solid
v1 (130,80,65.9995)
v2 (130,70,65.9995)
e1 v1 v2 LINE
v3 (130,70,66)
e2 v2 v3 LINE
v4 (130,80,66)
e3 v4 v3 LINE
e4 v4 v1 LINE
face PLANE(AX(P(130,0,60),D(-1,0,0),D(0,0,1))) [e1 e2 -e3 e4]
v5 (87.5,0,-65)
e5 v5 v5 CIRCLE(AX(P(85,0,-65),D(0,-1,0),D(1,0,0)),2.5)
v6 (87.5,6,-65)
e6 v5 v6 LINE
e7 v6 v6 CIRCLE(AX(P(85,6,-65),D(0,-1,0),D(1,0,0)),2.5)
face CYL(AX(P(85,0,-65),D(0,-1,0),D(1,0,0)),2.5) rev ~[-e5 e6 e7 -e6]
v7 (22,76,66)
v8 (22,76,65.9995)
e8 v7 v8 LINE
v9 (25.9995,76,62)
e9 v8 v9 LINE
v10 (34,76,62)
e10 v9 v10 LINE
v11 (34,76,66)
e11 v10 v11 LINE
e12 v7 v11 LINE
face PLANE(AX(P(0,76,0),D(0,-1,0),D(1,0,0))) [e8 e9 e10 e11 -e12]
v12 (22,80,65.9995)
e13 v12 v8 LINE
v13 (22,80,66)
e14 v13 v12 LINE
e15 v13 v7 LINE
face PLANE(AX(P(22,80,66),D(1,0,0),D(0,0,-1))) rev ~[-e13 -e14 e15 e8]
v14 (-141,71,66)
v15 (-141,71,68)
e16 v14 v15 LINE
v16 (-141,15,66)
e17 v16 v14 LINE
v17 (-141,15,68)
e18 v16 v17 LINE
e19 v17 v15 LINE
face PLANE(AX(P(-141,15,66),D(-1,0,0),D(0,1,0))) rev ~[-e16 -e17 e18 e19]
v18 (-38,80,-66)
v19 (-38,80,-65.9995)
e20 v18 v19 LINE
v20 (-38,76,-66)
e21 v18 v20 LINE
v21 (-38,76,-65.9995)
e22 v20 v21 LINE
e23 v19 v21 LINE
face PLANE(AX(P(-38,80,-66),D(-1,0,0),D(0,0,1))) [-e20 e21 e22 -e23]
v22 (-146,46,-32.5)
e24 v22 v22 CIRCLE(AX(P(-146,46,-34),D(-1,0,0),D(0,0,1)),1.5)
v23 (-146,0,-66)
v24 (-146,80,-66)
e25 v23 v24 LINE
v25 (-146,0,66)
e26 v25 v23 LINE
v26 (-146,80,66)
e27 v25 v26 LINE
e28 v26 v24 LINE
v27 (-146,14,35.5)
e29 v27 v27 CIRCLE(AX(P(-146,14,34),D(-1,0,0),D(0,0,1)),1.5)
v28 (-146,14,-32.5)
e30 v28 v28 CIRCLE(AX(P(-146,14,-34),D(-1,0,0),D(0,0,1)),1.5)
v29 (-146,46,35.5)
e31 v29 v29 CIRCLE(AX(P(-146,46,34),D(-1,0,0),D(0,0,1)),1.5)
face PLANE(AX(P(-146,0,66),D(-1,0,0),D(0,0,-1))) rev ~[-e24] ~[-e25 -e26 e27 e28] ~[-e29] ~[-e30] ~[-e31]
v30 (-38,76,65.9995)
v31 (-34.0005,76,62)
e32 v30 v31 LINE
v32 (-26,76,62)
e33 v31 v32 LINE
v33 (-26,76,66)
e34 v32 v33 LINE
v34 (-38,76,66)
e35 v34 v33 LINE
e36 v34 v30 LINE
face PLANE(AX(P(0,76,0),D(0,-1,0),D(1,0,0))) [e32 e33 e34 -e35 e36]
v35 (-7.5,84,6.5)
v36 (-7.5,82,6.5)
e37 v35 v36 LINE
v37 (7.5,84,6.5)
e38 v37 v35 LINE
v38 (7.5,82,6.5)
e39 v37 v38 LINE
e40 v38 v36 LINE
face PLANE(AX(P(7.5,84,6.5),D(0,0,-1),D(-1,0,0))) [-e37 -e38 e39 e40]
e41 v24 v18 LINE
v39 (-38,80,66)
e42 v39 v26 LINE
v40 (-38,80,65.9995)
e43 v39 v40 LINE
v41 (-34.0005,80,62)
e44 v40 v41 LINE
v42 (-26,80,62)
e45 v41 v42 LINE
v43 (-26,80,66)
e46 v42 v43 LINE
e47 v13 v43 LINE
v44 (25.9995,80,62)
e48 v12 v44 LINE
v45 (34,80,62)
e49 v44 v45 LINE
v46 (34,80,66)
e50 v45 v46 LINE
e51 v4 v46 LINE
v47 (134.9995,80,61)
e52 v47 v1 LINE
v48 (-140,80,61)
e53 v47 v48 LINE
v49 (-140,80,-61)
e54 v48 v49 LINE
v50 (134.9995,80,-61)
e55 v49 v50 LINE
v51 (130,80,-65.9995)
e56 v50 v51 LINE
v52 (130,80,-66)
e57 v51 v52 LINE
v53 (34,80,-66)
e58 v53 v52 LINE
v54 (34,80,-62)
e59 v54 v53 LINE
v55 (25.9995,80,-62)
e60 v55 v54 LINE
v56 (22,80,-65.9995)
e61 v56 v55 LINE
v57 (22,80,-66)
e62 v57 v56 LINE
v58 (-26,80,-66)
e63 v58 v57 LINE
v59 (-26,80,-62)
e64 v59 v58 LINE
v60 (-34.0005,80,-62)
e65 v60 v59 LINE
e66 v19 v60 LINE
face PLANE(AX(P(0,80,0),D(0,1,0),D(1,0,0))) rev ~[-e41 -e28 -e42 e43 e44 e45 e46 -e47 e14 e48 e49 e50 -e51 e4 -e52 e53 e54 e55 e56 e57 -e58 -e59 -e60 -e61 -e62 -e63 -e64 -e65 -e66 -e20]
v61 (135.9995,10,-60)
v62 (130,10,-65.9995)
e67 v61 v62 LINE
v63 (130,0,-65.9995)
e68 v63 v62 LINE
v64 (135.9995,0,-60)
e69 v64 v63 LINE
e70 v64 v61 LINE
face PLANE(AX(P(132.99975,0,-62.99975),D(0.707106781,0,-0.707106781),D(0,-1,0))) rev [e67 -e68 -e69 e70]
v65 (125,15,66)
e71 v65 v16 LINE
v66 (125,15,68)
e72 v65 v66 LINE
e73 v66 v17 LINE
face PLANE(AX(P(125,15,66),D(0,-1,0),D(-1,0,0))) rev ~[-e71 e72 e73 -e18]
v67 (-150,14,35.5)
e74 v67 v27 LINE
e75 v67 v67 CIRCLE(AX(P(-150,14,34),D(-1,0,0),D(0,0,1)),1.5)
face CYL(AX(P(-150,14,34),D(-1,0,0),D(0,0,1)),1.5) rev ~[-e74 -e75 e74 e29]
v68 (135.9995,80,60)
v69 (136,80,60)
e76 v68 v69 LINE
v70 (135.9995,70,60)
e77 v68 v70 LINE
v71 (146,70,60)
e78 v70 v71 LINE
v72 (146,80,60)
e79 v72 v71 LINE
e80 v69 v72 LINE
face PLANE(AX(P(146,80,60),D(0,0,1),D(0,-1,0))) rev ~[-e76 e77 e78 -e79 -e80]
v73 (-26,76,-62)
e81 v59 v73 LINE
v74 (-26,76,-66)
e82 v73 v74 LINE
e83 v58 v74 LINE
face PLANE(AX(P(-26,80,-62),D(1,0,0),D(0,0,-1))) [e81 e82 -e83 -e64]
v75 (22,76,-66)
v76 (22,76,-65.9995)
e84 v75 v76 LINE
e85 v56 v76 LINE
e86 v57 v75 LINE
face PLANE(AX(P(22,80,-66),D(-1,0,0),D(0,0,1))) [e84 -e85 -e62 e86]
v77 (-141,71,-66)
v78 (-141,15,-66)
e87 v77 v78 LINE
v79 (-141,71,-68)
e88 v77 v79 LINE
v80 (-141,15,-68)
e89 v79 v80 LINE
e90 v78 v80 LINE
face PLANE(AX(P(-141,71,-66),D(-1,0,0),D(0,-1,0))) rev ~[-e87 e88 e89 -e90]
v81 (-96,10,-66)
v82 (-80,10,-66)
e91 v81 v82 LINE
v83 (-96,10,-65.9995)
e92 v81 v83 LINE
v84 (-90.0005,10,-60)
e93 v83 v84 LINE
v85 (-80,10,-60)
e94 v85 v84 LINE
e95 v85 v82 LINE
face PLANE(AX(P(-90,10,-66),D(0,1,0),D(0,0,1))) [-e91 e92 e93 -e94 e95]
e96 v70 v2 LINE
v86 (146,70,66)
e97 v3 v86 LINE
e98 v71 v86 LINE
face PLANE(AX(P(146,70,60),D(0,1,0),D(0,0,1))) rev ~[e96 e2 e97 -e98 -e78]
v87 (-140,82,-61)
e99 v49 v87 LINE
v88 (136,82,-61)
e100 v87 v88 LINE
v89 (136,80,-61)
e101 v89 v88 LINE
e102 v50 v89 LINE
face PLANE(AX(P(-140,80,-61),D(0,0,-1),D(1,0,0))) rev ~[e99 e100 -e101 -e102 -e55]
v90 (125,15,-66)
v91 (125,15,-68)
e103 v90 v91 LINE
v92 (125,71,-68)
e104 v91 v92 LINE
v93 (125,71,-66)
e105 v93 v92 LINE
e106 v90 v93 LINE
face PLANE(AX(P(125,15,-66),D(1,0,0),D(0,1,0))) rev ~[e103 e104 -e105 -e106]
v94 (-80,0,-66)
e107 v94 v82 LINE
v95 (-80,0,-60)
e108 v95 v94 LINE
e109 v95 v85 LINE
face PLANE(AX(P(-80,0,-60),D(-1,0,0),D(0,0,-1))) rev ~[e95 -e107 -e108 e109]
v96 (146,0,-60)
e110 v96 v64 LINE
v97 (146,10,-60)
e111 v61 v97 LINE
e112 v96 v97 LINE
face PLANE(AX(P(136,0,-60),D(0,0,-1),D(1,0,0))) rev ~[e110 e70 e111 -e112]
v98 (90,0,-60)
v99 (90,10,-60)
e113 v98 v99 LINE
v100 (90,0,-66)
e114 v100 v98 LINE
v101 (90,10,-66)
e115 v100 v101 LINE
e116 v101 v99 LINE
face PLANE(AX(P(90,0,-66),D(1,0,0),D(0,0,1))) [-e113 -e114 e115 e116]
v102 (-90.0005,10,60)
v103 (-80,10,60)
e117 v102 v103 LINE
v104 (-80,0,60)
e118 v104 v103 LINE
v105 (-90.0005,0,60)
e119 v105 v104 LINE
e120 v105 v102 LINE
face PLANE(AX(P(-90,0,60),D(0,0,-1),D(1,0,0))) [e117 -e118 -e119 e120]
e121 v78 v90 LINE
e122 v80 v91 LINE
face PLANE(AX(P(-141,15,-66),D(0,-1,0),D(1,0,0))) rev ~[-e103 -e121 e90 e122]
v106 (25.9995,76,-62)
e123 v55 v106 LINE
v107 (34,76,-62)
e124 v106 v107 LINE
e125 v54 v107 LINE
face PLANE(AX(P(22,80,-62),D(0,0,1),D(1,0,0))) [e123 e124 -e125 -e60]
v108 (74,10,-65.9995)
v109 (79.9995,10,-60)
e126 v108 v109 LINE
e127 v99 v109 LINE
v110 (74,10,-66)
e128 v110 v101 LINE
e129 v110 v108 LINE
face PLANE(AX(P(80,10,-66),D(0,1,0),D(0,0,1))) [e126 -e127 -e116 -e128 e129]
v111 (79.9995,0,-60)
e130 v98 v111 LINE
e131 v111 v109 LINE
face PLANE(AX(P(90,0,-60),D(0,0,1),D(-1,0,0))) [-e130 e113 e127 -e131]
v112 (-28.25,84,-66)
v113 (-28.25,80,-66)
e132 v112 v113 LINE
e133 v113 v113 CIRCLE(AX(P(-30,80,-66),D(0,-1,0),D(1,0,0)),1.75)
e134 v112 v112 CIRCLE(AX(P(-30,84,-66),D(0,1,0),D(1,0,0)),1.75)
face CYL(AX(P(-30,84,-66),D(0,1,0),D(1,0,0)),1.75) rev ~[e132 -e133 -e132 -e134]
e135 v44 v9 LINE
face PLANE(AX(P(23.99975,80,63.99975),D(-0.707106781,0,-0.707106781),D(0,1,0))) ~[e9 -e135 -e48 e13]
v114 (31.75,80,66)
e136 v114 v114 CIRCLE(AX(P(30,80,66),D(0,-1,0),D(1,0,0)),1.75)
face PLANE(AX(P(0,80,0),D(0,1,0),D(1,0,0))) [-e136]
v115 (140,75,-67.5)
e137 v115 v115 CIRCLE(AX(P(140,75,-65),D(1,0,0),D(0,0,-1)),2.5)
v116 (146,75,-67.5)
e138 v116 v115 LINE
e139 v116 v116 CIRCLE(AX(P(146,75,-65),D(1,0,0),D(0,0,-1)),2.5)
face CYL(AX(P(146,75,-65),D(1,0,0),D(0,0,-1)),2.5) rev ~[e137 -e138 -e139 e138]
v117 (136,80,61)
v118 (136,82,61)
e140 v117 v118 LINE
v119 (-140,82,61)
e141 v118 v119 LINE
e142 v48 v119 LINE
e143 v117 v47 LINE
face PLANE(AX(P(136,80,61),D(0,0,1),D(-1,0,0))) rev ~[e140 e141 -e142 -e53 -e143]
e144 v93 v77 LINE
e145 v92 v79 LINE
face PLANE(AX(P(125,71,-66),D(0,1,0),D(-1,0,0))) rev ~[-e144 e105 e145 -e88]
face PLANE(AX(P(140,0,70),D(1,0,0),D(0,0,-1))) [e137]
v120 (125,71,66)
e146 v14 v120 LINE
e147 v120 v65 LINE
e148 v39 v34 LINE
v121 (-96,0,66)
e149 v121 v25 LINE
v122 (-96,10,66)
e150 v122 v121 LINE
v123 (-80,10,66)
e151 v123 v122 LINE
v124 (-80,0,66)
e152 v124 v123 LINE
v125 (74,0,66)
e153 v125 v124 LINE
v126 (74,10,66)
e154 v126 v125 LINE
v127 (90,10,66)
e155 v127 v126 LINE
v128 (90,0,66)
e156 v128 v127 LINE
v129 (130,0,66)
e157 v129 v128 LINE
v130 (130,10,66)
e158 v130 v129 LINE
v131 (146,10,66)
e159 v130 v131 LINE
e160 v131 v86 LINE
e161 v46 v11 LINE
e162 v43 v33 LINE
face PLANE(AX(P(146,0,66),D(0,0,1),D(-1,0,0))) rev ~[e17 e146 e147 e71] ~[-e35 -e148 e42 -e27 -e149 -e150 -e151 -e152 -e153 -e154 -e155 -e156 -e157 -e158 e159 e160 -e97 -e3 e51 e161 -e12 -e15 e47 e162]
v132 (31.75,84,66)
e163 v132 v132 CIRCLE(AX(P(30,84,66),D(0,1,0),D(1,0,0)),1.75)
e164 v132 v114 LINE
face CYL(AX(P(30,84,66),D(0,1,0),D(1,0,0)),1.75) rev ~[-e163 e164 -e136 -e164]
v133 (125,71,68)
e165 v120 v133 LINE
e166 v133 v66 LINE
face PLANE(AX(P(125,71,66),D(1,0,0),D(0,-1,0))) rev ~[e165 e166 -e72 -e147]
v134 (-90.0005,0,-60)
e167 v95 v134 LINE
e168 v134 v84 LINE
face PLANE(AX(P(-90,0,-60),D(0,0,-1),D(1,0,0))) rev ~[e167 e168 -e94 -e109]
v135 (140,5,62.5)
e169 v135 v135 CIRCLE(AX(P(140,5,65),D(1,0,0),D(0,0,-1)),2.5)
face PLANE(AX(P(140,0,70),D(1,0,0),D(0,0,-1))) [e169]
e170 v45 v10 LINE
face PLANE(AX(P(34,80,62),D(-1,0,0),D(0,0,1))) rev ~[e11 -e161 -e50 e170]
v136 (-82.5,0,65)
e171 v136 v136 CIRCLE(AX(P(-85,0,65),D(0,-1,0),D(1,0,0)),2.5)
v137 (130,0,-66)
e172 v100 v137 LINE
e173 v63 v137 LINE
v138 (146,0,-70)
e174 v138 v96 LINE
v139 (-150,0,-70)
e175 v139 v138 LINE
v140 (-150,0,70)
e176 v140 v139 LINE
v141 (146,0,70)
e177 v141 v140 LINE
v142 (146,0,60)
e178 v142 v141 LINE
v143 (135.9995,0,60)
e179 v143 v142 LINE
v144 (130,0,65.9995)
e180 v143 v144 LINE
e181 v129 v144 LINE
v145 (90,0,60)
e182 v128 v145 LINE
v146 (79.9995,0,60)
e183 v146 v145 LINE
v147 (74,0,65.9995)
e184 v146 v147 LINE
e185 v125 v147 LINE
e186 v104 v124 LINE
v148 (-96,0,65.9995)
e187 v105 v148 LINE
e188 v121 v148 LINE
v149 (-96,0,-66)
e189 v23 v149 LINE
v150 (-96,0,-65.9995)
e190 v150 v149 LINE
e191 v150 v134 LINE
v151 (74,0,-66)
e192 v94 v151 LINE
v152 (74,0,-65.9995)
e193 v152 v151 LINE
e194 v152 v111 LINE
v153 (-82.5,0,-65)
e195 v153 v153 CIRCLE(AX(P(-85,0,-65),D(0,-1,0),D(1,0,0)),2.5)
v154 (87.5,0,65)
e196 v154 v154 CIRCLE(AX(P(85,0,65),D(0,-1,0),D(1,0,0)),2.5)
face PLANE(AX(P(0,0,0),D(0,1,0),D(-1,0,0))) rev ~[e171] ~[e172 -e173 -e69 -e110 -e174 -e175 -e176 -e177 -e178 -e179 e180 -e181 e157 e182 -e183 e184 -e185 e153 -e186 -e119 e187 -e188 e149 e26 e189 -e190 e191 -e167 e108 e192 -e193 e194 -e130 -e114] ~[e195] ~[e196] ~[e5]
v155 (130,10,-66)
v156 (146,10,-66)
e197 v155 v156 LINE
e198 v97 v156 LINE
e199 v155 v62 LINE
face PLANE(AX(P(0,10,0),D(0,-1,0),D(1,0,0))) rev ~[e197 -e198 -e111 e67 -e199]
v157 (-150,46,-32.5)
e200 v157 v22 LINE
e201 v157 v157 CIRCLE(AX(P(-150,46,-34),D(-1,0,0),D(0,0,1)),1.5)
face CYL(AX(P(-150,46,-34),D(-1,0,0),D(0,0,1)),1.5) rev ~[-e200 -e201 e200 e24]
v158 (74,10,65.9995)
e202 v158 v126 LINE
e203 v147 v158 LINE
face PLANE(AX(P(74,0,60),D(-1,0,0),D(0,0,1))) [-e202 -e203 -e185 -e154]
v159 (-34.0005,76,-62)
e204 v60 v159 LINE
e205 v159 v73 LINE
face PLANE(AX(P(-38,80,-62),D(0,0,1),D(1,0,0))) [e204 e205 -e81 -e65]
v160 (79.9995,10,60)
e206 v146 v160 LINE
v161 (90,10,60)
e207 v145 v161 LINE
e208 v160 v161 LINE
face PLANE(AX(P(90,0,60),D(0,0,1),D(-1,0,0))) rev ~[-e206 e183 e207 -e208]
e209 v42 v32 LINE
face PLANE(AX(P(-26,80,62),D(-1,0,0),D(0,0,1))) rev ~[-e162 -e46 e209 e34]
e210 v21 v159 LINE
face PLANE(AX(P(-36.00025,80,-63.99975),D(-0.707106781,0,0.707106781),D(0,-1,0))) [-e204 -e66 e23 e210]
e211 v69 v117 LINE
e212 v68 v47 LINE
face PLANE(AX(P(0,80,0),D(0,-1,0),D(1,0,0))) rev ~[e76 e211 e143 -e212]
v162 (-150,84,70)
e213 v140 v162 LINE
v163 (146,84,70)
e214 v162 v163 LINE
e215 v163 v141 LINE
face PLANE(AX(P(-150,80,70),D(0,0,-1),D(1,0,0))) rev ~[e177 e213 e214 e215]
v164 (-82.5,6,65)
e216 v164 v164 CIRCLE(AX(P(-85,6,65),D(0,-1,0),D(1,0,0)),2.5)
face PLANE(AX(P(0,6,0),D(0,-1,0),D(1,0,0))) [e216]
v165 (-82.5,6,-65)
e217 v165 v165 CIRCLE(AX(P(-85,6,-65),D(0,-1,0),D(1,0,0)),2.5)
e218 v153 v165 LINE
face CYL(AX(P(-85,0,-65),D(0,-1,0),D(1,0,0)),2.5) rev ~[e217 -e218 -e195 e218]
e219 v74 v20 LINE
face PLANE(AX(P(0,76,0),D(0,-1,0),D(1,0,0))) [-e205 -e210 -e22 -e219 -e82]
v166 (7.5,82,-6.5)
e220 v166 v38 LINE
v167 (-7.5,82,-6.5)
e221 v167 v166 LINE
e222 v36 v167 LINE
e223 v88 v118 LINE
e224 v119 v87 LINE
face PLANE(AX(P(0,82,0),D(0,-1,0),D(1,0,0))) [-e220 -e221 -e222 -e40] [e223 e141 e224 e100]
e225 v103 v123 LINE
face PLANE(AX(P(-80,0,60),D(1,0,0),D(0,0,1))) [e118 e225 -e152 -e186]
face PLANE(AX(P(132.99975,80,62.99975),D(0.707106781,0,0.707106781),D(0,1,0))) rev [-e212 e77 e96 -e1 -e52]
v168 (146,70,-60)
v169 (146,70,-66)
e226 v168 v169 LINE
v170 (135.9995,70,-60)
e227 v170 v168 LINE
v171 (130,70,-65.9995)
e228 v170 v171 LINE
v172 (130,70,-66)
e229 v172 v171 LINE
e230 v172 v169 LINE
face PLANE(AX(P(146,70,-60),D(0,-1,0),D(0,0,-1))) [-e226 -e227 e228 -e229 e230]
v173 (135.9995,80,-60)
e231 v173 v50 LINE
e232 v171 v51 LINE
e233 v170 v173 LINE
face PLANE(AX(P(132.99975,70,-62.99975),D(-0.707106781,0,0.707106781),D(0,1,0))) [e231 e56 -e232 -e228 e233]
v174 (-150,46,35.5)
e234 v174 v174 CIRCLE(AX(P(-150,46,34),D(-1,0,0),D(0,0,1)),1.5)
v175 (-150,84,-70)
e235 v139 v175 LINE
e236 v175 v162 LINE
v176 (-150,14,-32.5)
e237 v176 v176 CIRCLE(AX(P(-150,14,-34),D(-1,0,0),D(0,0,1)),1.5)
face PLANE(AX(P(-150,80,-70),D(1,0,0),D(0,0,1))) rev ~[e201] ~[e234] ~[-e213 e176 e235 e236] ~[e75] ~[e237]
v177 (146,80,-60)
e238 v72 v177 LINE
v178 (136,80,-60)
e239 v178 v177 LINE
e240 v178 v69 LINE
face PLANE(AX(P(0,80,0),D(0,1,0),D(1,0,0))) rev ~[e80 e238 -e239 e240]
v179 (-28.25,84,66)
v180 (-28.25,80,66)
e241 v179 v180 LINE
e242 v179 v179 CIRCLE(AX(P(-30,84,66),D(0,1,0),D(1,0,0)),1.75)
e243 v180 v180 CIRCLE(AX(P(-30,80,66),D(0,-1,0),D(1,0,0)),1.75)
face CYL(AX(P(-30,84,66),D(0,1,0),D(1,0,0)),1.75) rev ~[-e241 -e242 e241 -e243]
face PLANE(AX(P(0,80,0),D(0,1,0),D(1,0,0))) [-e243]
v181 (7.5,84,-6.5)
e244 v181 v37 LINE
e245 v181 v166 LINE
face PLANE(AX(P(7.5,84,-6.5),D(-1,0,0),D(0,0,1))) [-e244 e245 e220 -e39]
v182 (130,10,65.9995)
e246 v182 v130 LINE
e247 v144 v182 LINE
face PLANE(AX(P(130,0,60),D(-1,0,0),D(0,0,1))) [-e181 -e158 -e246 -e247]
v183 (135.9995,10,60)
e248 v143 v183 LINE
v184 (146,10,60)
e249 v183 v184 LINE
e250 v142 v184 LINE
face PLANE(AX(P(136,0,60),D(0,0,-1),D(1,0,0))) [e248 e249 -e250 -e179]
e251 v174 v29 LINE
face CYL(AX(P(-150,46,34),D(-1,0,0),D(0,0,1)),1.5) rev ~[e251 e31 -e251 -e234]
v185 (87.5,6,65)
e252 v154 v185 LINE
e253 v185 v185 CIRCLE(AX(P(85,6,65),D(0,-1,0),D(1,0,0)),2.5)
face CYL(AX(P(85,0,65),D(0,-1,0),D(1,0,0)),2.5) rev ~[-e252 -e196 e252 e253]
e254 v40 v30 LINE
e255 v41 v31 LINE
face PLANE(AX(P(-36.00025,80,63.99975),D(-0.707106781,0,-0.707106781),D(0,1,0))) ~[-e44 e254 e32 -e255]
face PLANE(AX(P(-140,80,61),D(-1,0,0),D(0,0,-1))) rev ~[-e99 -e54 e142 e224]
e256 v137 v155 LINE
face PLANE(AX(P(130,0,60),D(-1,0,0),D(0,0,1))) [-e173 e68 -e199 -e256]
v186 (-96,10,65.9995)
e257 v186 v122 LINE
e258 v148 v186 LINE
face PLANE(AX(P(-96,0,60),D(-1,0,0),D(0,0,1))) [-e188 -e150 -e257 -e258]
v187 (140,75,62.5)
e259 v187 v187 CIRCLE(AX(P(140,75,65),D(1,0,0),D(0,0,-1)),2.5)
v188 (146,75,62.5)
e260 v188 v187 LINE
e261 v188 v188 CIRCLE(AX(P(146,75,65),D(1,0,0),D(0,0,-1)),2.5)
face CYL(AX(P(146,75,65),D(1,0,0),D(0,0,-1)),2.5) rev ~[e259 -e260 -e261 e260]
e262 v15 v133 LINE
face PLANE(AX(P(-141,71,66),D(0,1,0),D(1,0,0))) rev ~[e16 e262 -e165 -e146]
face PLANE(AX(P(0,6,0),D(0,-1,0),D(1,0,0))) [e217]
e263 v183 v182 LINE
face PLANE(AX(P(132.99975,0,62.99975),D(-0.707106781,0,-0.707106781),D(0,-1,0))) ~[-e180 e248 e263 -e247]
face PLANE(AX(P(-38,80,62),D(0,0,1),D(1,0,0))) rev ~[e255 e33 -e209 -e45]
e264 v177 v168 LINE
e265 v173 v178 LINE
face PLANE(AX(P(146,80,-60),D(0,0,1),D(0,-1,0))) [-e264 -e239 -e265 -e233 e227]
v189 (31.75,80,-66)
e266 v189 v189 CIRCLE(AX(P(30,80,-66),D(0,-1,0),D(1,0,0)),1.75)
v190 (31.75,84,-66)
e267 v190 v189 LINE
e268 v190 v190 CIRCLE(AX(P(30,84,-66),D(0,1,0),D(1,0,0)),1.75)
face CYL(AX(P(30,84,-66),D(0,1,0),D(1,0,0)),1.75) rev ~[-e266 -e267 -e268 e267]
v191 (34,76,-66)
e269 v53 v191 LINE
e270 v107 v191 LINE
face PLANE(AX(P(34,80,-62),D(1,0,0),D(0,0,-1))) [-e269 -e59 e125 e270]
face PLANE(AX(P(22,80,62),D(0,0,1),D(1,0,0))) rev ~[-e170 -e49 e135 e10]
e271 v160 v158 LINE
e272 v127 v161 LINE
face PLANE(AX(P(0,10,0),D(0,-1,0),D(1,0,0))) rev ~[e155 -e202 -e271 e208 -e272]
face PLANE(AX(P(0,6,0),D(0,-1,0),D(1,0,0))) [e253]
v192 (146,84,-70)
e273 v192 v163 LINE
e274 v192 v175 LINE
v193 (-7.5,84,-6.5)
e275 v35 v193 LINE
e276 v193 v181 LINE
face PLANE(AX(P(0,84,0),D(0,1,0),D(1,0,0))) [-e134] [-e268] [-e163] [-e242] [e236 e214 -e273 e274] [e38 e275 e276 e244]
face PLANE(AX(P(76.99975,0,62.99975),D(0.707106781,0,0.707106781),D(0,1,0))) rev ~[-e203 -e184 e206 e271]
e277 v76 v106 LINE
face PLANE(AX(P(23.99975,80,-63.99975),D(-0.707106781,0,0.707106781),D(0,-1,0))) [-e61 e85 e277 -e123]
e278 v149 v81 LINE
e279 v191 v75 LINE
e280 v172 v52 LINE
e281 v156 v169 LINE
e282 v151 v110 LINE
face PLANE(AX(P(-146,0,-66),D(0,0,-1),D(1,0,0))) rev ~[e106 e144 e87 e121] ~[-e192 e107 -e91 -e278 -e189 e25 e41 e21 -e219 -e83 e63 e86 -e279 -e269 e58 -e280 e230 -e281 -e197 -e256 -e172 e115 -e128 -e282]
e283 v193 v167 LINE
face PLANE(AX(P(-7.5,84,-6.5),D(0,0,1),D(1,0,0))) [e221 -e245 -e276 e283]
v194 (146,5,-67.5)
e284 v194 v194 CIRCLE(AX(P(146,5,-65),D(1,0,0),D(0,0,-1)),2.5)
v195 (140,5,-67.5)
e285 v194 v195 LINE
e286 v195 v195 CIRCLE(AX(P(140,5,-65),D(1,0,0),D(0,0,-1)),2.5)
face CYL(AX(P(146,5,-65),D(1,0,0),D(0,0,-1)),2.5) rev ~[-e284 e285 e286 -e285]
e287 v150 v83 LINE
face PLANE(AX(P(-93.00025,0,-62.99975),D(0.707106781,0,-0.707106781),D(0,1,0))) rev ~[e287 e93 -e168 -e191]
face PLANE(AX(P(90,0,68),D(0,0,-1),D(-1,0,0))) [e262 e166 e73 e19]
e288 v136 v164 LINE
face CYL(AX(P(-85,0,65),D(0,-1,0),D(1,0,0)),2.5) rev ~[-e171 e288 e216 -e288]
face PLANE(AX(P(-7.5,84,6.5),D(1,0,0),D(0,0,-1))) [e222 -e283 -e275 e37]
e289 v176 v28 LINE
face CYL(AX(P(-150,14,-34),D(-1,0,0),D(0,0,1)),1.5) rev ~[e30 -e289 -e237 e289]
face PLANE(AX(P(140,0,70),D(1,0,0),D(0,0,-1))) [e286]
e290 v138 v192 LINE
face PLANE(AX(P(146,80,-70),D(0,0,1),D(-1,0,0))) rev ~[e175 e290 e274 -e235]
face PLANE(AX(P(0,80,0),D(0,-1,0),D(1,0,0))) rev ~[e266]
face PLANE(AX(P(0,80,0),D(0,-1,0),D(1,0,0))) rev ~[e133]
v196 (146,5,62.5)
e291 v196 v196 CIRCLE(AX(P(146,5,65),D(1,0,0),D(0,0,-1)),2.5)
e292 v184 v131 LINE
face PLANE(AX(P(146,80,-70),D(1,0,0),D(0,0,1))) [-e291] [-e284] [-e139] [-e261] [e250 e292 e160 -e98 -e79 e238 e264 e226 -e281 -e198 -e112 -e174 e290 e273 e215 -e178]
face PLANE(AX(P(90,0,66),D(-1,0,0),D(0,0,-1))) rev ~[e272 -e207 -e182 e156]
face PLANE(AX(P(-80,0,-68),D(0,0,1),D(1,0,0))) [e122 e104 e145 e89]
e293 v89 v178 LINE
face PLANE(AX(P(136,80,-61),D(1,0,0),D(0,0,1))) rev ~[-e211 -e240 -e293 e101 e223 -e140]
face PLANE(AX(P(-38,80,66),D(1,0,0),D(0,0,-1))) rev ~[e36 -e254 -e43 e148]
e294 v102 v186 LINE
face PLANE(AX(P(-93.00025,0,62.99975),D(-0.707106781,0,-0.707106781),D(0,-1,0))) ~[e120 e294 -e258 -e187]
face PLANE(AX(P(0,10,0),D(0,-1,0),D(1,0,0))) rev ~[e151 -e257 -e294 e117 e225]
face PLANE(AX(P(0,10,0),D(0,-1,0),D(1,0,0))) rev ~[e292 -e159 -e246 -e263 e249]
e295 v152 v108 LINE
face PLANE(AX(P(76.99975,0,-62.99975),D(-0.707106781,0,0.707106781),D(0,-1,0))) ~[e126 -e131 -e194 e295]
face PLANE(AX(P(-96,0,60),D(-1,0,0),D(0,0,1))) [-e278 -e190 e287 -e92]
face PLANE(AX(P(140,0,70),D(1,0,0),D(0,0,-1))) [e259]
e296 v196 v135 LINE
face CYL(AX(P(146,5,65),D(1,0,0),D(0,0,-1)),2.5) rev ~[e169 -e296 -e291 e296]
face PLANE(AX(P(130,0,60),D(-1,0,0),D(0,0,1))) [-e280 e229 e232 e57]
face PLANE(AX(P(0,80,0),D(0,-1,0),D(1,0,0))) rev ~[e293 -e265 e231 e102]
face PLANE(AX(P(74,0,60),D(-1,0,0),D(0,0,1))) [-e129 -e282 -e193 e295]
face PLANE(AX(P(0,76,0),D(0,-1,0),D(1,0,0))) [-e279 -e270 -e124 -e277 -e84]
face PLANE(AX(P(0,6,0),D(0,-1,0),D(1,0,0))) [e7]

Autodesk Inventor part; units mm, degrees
ref_plane "YZ Plane" through (0, 0, 0) normal (1, 0, 0) x (0, 1, 0)
ref_plane "XZ Plane" through (0, 0, 0) normal (0, 1, 0) x (-1, 0, 0)
ref_plane "XY Plane" through (0, 0, 0) normal (0, 0, 1) x (1, 0, 0)
sketch "Sketch1" plane through (0, 0, 0) normal (0, 1, 0) x (-1, 0, 0)
  line L0 (146, -66) -> (-146, -66)
  line L1 (-146, -66) -> (-146, 66) construction
  line L2 (-146, 66) -> (146, 66)
  line L3 (146, 66) -> (146, -66)
  line L4 (146, 0) -> (-146, 0) construction
  line L5 (0, 66) -> (0, -66) construction
  line L6 (150, -70) -> (-146, -70)
  line L7 (-146, 70) -> (150, 70)
  line L8 (150, 70) -> (150, -70)
  line L9 (-146, 66) -> (-146, 70)
  line L10 (-146, -66) -> (-146, -70)
  point P0 (0, 0)
  point P1 (0, 0)
  dimension "d0" = 292
  dimension "d1" = 132
  dimension "d2" = 4
  dimension "d3" = 4
extrude "Extrusion1" add sketch "Sketch1" along normal blind 80
sketch "Sketch2" plane through (0, 0, 0) normal (0, -1, 0) x (1, 0, 0)
  line L0 (146, 66) -> (-146, 66) construction
  line L1 (-146, -66) -> (146, -66) construction
  line L2 (146, 66) -> (146, -66) construction
  line L3 (146, 0) -> (-146, 0) construction
  line L4 (-146, 66) -> (-146, -66) construction
  line L5 (-90, 66) -> (-90, 60)
  line L6 (-90, 60) -> (-80, 60)
  line L7 (-80, 60) -> (-80, 66)
  line L8 (-90, -66) -> (-90, -60)
  line L9 (-90, -60) -> (-80, -60)
  line L10 (-80, -60) -> (-80, -66)
  line L11 (0, 66) -> (0, -66) construction
  line L12 (90, 66) -> (90, 60)
  line L13 (90, 60) -> (80, 60)
  line L14 (80, 60) -> (80, 66)
  line L15 (80, -60) -> (80, -66)
  line L16 (90, -60) -> (80, -60)
  line L17 (90, -66) -> (90, -60)
  line L18 (-90, 66) -> (-80, 66)
  line L19 (-80, -66) -> (-90, -66)
  line L20 (90, -66) -> (80, -66)
  line L21 (80, 66) -> (90, 66)
  point P0 (0, 0)
  dimension "d6" = 6
  dimension "d7" = 56
  dimension "d8" = 10
extrude "Extrusion2" add sketch "Sketch2" against normal blind 10
sketch "Sketch3" plane through (-150, 0, -70) normal (-1, 0, 0) x (0, 0, 1)
  line L0 (136, 10) -> (130, 10) construction
  line L1 (10, 10) -> (4, 10) construction
  line L2 (10, 10) -> (4, 10) construction
  line L3 (130, 10) -> (136, 10) construction
  line L4 (10, 10) -> (130, 10) construction
  line L5 (136, 80) -> (4, 80) construction
  line L6 (70, 80) -> (70, 0) construction
  line L7 (0, 0) -> (140, 0) construction
  line L8 (0, 0) -> (0, 80) construction
  line L9 (0, 14) -> (140, 14) construction
  circle A0 centre (36, 14) radius 1.5
  circle A1 centre (104, 14) radius 1.5
  line L10 (0, 0) -> (0, 80) construction
  line L11 (0, 46) -> (140, 46) construction
  line L12 (140, 0) -> (140, 80) construction
  circle A2 centre (36, 46) radius 1.5
  circle A3 centre (104, 46) radius 1.5
  dimension "d11" = 4
  dimension "d12" = 3
  dimension "d13" = 68
  dimension "d26" = 32
  dimension "d27" = 3
extrude "Extrusion3" cut sketch "Sketch3" against normal blind 10
sketch "Sketch4" plane through (0, 0, 0) normal (0, -1, 0) x (1, 0, 0)
  line L0 (146, 66) -> (-146, 66) projected
  line L1 (146, 66) -> (136, 66)
  line L2 (136, 66) -> (136, 60)
  line L3 (136, 60) -> (146, 60)
  line L4 (146, 60) -> (146, 66)
  line L5 (146, -66) -> (146, -70) construction
  line L6 (146, -66) -> (146, 66) construction
  line L7 (146, 0) -> (-146, 0) construction
  line L8 (-146, 66) -> (-146, -66) construction
  line L9 (146, -66) -> (136, -66)
  line L10 (136, -66) -> (136, -60)
  line L11 (136, -60) -> (146, -60)
  line L12 (146, -60) -> (146, -66)
  point P0 (0, 0)
  dimension "d16" = 10
  dimension "d17" = 6
extrude "Extrusion4" add sketch "Sketch4" against normal blind 10
sketch "Sketch6" plane through (146, 0, 70) normal (1, 0, 0) x (0, 0, -1)
  line L0 (4, 0) -> (4, 80) construction
  line L1 (136, 10) -> (136, 80) construction
  line L2 (4, 80) -> (136, 80) construction
  line L3 (4, 0) -> (10, 0) construction
  line L4 (130, 0) -> (130, 10) construction
  line L5 (10, 0) -> (130, 0) construction
  line L6 (140, 80) -> (0, 80) construction
  line L7 (70, 80) -> (70, 0) construction
  line L8 (4, 80) -> (10, 80)
  line L9 (10, 80) -> (10, 70)
  line L10 (10, 70) -> (4, 70)
  line L11 (4, 70) -> (4, 80)
  line L12 (136, 0) -> (136, 80) construction
  line L13 (136, 80) -> (4, 80) construction
  line L14 (0, 80) -> (140, 80) construction
  line L15 (136, 80) -> (130, 80)
  line L16 (130, 80) -> (130, 70)
  line L17 (130, 70) -> (136, 70)
  line L18 (136, 70) -> (136, 80)
  dimension "d20" = 10
extrude "Extrusion5" add sketch "Sketch6" against normal blind 10
sketch "Sketch7" plane through (146, 0, 70) normal (1, 0, 0) x (0, 0, -1)
  line L0 (0, 80) -> (10, 80) construction
  line L1 (10, 70) -> (4, 70) construction
  line L2 (0, 80) -> (10, 70) construction
  line L3 (10, 80) -> (0, 70) construction
  line L4 (0, 0) -> (0, 80) construction
  line L5 (0, 40) -> (140, 40) construction
  line L6 (140, 0) -> (140, 80) construction
  line L7 (70, 0) -> (70, 80) construction
  line L8 (140, 80) -> (0, 80) construction
  circle A0 centre (5, 75) radius 2.5
  circle A1 centre (135, 75) radius 2.5
  circle A2 centre (5, 5) radius 2.5
  circle A3 centre (135, 5) radius 2.5
  dimension "d23" = 5
extrude "Extrusion6" cut sketch "Sketch7" against normal blind 6
sketch "Sketch8" plane through (0, 80, 0) normal (0, 1, 0) x (1, 0, 0)
  line L0 (146, 70) -> (146, 60) projected
  line L1 (-150, 70) -> (-150, -70) projected
  line L2 (146, 70) -> (-150, 70)
  line L3 (-150, 70) -> (-150, -70)
  line L4 (-150, -70) -> (146, -70)
  line L5 (146, -70) -> (146, 70)
  point P0 (0, 0)
extrude "Extrusion7" add sketch "Sketch8" along normal blind 4
sketch "Sketch11" plane through (0, 0, 0) normal (0, -1, 0) x (1, 0, 0)
  circle A0 centre (85, 65) radius 2.5
  line L0 (-150, 70) -> (146, 70) projected
  line L1 (90, 60) -> (90, 66) projected
  line L2 (80, 66) -> (-80, 66) projected
  line L3 (0, 66) -> (0, -66) construction
  line L4 (-80, -66) -> (80, -66) projected
  circle A1 centre (-85, 65) radius 2.5
  line L5 (146, 60) -> (136, 60) construction
  line L6 (146, 60) -> (146, -60) construction
  line L7 (146, 60) -> (146, -60) construction
  line L8 (146, 0) -> (-146, 0) construction
  line L9 (-146, 66) -> (-146, -66) construction
  circle A2 centre (85, -65) radius 2.5
  circle A3 centre (-85, -65) radius 2.5
  point P0 (0, 0)
  dimension "d39" = 5
  dimension "d40" = 5
  dimension "d41" = 5
extrude "Extrusion8" cut sketch "Sketch11" against normal blind 6
sketch "Sketch12" plane through (-90, 0, 60) normal (-1, 0, 0) x (0, 0, 1)
  line L0 (6, 0) -> (0, 0) projected
  line L1 (6, 10) -> (6, 0) projected
  line L2 (0, 10) -> (6, 10) projected
  line L3 (0, 0) -> (0, 10) projected
  line L4 (-120, 0) -> (-126, 0) projected
  line L5 (-120, 0) -> (-120, 10) projected
  line L6 (-126, 10) -> (-120, 10) projected
  line L7 (-126, 0) -> (-126, 10) projected
  point P0 (-60, 0)
  point P1 (10, 84)
extrude "Extrusion9" add sketch "Sketch12" along normal blind 6
sketch "Sketch13" plane through (80, 0, 60) normal (-1, 0, 0) x (0, 0, 1)
  line L0 (6, 0) -> (0, 0) projected
  line L1 (6, 10) -> (6, 0) projected
  line L2 (0, 10) -> (6, 10) projected
  line L3 (0, 0) -> (0, 10) projected
  line L4 (-120, 0) -> (-126, 0) projected
  line L5 (-120, 0) -> (-120, 10) projected
  line L6 (-126, 10) -> (-120, 10) projected
  line L7 (-126, 0) -> (-126, 10) projected
  point P0 (-60, 0)
extrude "Extrusion10" add sketch "Sketch13" along normal blind 6
sketch "Sketch14" plane through (136, 0, 60) normal (-1, 0, 0) x (0, 0, 1)
  line L0 (6, 0) -> (0, 0) projected
  line L1 (6, 10) -> (6, 0) projected
  line L2 (0, 10) -> (6, 10) projected
  line L3 (0, 0) -> (0, 10) projected
  line L4 (-120, 0) -> (-126, 0) projected
  line L5 (-120, 0) -> (-120, 10) projected
  line L6 (-126, 10) -> (-120, 10) projected
  line L7 (-126, 0) -> (-126, 10) projected
  line L8 (0, 70) -> (6, 70) projected
  line L9 (6, 80) -> (6, 70) projected
  line L10 (6, 80) -> (0, 80) projected
  line L11 (0, 80) -> (0, 70) projected
  line L12 (-120, 70) -> (-120, 80) projected
  line L13 (-120, 80) -> (-126, 80) projected
  line L14 (-126, 70) -> (-126, 80) projected
  line L15 (-126, 70) -> (-120, 70) projected
  point P0 (-60, 0)
extrude "Extrusion11" add sketch "Sketch14" along normal blind 6
chamfer "Chamfer4" distance 6 angle 45 8 edges at (130, 5, 60) (130, 5, -60) (130, 75, -60) (130, 75, 60) (74, 5, 60) (74, 5, -60) (-96, 5, 60) (-96, 5, -60)
sketch "Sketch16" plane through (0, 84, 0) normal (0, 1, 0) x (1, 0, 0)
  line L0 (-30, 66) -> (30, 66) construction
  line L1 (30, 66) -> (30, -66) construction
  line L2 (30, -66) -> (-30, -66) construction
  line L3 (-30, -66) -> (-30, 66) construction
  line L4 (146, 70) -> (-150, 70) construction
  line L5 (-150, -70) -> (146, -70) construction
  line L6 (-2, 70) -> (-2, -70) construction
  line L7 (-150, 70) -> (-150, -70) construction
  line L8 (-150, 0) -> (146, 0) construction
  line L9 (146, -60) -> (146, 60) construction
  line L10 (0, 66) -> (0, -66) construction
  line L11 (-30, 0) -> (30, 0) construction
  circle A0 centre (-30, 66) radius 1.75
  circle A1 centre (30, 66) radius 1.75
  circle A2 centre (-30, -66) radius 1.75
  circle A3 centre (30, -66) radius 1.75
  line L12 (7.5, -6.5) -> (-7.5, -6.5)
  line L13 (-7.5, -6.5) -> (-7.5, 6.5)
  line L14 (-7.5, 6.5) -> (7.5, 6.5)
  line L15 (7.5, 6.5) -> (7.5, -6.5)
  line L16 (7.5, 0) -> (-7.5, 0) construction
  line L17 (0, 6.5) -> (0, -6.5) construction
  point P0 (0, 0)
  point P1 (0, 0)
  dimension "d79" = 60
  dimension "d80" = 132
  dimension "d81" = 4
  dimension "d82" = 3.5
  dimension "d85" = 15
  dimension "d86" = 13
extrude "Extrusion13" cut sketch "Sketch16" against normal blind 4
sketch "Sketch17" plane through (0, 80, 0) normal (0, -1, 0) x (1, 0, 0)
  line L0 (28.25, 66) -> (-28.25, 66) projected
  line L1 (-26, 66) -> (-38, 66)
  line L2 (-38, 66) -> (-38, 62)
  line L3 (-38, 62) -> (-26, 62)
  line L4 (-26, 62) -> (-26, 66)
  line L5 (0, 66) -> (0, -66) construction
  line L6 (-80, -66) -> (74, -66) construction
  line L7 (-146, 66) -> (-146, -66) construction
  line L8 (-146, 0) -> (146, 0) construction
  line L9 (146, 60) -> (146, -60) construction
  arc A0 (-31.75, 66) -> (-28.25, 66) centre (-30, 66) ccw construction
  line L10 (-30, 66) -> (-30, 62) construction
  line L11 (-28.25, 66) -> (28.25, 66)
  line L12 (28.25, -66) -> (-28.25, -66)
  line L13 (-26, -66) -> (-38, -66)
  line L14 (-38, -66) -> (-38, -62)
  line L15 (-38, -62) -> (-26, -62)
  line L16 (-26, -62) -> (-26, -66)
  arc A1 (-28.25, -66) -> (-31.75, -66) centre (-30, -66) ccw construction
  line L17 (-30, -66) -> (-30, -62) construction
  line L18 (-28.25, -66) -> (28.25, -66)
  line L19 (130, 66) -> (31.75, 66) projected
  line L20 (34, 66) -> (22, 66)
  line L21 (22, 66) -> (22, 62)
  line L22 (22, 62) -> (34, 62)
  line L23 (34, 62) -> (34, 66)
  line L24 (31.75, 66) -> (28.25, 66) construction
  line L25 (30, 66) -> (30, 62) construction
  line L26 (34, -66) -> (22, -66)
  line L27 (22, -66) -> (22, -62)
  line L28 (22, -62) -> (34, -62)
  line L29 (34, -62) -> (34, -66)
  line L30 (31.75, -66) -> (28.25, -66) construction
  line L31 (30, -66) -> (30, -62) construction
  point P0 (0, 0)
  point P1 (-28.25, 66)
  point P2 (31.75, 66)
  dimension "d87" = 4
  dimension "d88" = 4
  dimension "d89" = 8
  dimension "d92" = 12
  dimension "d93" = 4
  dimension "d94" = 4
extrude "Extrusion14" add sketch "Sketch17" along normal blind 4
chamfer "Chamfer5" distance 4 angle 45 4 edges at (-38, 78, 62) (22, 78, 62) (-38, 78, -62) (22, 78, -62)
sketch "Sketch18" plane through (0, 80, 0) normal (0, -1, 0) x (1, 0, 0)
  line L0 (-146, 66) -> (-146, -66) construction
  line L1 (130, 66) -> (146, 66) construction
  line L2 (-146, -66) -> (146, -66) construction
  line L3 (146, -66) -> (146, 66) construction
  line L4 (146, 66) -> (-146, 66) construction
  line L5 (-146, 66) -> (-146, -66) construction
  line L6 (136, 61) -> (-140, 61)
  line L7 (-140, 61) -> (-140, -61)
  line L8 (-140, -61) -> (136, -61)
  line L9 (136, -61) -> (136, 61)
  line L10 (146, 60) -> (146, -60) construction
  line L11 (146, 0) -> (-146, 0) construction
  line L12 (22, 66) -> (-26, 66) construction
  line L13 (-2, 66) -> (-2, -66) construction
  line L14 (-26, -66) -> (22, -66) construction
  point P0 (0, 0)
  dimension "d98" = 5
  dimension "d99" = 10
extrude "Extrusion15" cut sketch "Sketch18" against normal blind 2
sketch "Sketch19" plane through (90, 0, 66) normal (0, 0, -1) x (-1, 0, 0)
  line L0 (-35, 15) -> (231, 15)
  line L1 (231, 15) -> (231, 71)
  line L2 (231, 71) -> (-35, 71)
  line L3 (-35, 71) -> (-35, 15)
  line L4 (-40, 10) -> (-40, 0) projected
  line L5 (236, 0) -> (236, 80) projected
  line L6 (170, 10) -> (186, 10) projected
  line L7 (68, 76) -> (56, 76) projected
  point P0 (90, 0)
  dimension "d102" = 5
  dimension "d103" = 5
  dimension "d104" = 5
  dimension "d105" = 5
extrude "Extrusion16" cut sketch "Sketch19" against normal blind 2
sketch "Sketch20" plane through (-80, 0, -66) normal (0, 0, 1) x (1, 0, 0)
  line L0 (-61, 71) -> (-61, 15) projected
  line L1 (205, 71) -> (-61, 71) projected
  line L2 (205, 15) -> (205, 71) projected
  line L3 (-61, 15) -> (205, 15) projected
  point P0 (80, 0)
extrude "Extrusion18" cut sketch "Sketch20" against normal blind 2
properties part number "electronics_case"
